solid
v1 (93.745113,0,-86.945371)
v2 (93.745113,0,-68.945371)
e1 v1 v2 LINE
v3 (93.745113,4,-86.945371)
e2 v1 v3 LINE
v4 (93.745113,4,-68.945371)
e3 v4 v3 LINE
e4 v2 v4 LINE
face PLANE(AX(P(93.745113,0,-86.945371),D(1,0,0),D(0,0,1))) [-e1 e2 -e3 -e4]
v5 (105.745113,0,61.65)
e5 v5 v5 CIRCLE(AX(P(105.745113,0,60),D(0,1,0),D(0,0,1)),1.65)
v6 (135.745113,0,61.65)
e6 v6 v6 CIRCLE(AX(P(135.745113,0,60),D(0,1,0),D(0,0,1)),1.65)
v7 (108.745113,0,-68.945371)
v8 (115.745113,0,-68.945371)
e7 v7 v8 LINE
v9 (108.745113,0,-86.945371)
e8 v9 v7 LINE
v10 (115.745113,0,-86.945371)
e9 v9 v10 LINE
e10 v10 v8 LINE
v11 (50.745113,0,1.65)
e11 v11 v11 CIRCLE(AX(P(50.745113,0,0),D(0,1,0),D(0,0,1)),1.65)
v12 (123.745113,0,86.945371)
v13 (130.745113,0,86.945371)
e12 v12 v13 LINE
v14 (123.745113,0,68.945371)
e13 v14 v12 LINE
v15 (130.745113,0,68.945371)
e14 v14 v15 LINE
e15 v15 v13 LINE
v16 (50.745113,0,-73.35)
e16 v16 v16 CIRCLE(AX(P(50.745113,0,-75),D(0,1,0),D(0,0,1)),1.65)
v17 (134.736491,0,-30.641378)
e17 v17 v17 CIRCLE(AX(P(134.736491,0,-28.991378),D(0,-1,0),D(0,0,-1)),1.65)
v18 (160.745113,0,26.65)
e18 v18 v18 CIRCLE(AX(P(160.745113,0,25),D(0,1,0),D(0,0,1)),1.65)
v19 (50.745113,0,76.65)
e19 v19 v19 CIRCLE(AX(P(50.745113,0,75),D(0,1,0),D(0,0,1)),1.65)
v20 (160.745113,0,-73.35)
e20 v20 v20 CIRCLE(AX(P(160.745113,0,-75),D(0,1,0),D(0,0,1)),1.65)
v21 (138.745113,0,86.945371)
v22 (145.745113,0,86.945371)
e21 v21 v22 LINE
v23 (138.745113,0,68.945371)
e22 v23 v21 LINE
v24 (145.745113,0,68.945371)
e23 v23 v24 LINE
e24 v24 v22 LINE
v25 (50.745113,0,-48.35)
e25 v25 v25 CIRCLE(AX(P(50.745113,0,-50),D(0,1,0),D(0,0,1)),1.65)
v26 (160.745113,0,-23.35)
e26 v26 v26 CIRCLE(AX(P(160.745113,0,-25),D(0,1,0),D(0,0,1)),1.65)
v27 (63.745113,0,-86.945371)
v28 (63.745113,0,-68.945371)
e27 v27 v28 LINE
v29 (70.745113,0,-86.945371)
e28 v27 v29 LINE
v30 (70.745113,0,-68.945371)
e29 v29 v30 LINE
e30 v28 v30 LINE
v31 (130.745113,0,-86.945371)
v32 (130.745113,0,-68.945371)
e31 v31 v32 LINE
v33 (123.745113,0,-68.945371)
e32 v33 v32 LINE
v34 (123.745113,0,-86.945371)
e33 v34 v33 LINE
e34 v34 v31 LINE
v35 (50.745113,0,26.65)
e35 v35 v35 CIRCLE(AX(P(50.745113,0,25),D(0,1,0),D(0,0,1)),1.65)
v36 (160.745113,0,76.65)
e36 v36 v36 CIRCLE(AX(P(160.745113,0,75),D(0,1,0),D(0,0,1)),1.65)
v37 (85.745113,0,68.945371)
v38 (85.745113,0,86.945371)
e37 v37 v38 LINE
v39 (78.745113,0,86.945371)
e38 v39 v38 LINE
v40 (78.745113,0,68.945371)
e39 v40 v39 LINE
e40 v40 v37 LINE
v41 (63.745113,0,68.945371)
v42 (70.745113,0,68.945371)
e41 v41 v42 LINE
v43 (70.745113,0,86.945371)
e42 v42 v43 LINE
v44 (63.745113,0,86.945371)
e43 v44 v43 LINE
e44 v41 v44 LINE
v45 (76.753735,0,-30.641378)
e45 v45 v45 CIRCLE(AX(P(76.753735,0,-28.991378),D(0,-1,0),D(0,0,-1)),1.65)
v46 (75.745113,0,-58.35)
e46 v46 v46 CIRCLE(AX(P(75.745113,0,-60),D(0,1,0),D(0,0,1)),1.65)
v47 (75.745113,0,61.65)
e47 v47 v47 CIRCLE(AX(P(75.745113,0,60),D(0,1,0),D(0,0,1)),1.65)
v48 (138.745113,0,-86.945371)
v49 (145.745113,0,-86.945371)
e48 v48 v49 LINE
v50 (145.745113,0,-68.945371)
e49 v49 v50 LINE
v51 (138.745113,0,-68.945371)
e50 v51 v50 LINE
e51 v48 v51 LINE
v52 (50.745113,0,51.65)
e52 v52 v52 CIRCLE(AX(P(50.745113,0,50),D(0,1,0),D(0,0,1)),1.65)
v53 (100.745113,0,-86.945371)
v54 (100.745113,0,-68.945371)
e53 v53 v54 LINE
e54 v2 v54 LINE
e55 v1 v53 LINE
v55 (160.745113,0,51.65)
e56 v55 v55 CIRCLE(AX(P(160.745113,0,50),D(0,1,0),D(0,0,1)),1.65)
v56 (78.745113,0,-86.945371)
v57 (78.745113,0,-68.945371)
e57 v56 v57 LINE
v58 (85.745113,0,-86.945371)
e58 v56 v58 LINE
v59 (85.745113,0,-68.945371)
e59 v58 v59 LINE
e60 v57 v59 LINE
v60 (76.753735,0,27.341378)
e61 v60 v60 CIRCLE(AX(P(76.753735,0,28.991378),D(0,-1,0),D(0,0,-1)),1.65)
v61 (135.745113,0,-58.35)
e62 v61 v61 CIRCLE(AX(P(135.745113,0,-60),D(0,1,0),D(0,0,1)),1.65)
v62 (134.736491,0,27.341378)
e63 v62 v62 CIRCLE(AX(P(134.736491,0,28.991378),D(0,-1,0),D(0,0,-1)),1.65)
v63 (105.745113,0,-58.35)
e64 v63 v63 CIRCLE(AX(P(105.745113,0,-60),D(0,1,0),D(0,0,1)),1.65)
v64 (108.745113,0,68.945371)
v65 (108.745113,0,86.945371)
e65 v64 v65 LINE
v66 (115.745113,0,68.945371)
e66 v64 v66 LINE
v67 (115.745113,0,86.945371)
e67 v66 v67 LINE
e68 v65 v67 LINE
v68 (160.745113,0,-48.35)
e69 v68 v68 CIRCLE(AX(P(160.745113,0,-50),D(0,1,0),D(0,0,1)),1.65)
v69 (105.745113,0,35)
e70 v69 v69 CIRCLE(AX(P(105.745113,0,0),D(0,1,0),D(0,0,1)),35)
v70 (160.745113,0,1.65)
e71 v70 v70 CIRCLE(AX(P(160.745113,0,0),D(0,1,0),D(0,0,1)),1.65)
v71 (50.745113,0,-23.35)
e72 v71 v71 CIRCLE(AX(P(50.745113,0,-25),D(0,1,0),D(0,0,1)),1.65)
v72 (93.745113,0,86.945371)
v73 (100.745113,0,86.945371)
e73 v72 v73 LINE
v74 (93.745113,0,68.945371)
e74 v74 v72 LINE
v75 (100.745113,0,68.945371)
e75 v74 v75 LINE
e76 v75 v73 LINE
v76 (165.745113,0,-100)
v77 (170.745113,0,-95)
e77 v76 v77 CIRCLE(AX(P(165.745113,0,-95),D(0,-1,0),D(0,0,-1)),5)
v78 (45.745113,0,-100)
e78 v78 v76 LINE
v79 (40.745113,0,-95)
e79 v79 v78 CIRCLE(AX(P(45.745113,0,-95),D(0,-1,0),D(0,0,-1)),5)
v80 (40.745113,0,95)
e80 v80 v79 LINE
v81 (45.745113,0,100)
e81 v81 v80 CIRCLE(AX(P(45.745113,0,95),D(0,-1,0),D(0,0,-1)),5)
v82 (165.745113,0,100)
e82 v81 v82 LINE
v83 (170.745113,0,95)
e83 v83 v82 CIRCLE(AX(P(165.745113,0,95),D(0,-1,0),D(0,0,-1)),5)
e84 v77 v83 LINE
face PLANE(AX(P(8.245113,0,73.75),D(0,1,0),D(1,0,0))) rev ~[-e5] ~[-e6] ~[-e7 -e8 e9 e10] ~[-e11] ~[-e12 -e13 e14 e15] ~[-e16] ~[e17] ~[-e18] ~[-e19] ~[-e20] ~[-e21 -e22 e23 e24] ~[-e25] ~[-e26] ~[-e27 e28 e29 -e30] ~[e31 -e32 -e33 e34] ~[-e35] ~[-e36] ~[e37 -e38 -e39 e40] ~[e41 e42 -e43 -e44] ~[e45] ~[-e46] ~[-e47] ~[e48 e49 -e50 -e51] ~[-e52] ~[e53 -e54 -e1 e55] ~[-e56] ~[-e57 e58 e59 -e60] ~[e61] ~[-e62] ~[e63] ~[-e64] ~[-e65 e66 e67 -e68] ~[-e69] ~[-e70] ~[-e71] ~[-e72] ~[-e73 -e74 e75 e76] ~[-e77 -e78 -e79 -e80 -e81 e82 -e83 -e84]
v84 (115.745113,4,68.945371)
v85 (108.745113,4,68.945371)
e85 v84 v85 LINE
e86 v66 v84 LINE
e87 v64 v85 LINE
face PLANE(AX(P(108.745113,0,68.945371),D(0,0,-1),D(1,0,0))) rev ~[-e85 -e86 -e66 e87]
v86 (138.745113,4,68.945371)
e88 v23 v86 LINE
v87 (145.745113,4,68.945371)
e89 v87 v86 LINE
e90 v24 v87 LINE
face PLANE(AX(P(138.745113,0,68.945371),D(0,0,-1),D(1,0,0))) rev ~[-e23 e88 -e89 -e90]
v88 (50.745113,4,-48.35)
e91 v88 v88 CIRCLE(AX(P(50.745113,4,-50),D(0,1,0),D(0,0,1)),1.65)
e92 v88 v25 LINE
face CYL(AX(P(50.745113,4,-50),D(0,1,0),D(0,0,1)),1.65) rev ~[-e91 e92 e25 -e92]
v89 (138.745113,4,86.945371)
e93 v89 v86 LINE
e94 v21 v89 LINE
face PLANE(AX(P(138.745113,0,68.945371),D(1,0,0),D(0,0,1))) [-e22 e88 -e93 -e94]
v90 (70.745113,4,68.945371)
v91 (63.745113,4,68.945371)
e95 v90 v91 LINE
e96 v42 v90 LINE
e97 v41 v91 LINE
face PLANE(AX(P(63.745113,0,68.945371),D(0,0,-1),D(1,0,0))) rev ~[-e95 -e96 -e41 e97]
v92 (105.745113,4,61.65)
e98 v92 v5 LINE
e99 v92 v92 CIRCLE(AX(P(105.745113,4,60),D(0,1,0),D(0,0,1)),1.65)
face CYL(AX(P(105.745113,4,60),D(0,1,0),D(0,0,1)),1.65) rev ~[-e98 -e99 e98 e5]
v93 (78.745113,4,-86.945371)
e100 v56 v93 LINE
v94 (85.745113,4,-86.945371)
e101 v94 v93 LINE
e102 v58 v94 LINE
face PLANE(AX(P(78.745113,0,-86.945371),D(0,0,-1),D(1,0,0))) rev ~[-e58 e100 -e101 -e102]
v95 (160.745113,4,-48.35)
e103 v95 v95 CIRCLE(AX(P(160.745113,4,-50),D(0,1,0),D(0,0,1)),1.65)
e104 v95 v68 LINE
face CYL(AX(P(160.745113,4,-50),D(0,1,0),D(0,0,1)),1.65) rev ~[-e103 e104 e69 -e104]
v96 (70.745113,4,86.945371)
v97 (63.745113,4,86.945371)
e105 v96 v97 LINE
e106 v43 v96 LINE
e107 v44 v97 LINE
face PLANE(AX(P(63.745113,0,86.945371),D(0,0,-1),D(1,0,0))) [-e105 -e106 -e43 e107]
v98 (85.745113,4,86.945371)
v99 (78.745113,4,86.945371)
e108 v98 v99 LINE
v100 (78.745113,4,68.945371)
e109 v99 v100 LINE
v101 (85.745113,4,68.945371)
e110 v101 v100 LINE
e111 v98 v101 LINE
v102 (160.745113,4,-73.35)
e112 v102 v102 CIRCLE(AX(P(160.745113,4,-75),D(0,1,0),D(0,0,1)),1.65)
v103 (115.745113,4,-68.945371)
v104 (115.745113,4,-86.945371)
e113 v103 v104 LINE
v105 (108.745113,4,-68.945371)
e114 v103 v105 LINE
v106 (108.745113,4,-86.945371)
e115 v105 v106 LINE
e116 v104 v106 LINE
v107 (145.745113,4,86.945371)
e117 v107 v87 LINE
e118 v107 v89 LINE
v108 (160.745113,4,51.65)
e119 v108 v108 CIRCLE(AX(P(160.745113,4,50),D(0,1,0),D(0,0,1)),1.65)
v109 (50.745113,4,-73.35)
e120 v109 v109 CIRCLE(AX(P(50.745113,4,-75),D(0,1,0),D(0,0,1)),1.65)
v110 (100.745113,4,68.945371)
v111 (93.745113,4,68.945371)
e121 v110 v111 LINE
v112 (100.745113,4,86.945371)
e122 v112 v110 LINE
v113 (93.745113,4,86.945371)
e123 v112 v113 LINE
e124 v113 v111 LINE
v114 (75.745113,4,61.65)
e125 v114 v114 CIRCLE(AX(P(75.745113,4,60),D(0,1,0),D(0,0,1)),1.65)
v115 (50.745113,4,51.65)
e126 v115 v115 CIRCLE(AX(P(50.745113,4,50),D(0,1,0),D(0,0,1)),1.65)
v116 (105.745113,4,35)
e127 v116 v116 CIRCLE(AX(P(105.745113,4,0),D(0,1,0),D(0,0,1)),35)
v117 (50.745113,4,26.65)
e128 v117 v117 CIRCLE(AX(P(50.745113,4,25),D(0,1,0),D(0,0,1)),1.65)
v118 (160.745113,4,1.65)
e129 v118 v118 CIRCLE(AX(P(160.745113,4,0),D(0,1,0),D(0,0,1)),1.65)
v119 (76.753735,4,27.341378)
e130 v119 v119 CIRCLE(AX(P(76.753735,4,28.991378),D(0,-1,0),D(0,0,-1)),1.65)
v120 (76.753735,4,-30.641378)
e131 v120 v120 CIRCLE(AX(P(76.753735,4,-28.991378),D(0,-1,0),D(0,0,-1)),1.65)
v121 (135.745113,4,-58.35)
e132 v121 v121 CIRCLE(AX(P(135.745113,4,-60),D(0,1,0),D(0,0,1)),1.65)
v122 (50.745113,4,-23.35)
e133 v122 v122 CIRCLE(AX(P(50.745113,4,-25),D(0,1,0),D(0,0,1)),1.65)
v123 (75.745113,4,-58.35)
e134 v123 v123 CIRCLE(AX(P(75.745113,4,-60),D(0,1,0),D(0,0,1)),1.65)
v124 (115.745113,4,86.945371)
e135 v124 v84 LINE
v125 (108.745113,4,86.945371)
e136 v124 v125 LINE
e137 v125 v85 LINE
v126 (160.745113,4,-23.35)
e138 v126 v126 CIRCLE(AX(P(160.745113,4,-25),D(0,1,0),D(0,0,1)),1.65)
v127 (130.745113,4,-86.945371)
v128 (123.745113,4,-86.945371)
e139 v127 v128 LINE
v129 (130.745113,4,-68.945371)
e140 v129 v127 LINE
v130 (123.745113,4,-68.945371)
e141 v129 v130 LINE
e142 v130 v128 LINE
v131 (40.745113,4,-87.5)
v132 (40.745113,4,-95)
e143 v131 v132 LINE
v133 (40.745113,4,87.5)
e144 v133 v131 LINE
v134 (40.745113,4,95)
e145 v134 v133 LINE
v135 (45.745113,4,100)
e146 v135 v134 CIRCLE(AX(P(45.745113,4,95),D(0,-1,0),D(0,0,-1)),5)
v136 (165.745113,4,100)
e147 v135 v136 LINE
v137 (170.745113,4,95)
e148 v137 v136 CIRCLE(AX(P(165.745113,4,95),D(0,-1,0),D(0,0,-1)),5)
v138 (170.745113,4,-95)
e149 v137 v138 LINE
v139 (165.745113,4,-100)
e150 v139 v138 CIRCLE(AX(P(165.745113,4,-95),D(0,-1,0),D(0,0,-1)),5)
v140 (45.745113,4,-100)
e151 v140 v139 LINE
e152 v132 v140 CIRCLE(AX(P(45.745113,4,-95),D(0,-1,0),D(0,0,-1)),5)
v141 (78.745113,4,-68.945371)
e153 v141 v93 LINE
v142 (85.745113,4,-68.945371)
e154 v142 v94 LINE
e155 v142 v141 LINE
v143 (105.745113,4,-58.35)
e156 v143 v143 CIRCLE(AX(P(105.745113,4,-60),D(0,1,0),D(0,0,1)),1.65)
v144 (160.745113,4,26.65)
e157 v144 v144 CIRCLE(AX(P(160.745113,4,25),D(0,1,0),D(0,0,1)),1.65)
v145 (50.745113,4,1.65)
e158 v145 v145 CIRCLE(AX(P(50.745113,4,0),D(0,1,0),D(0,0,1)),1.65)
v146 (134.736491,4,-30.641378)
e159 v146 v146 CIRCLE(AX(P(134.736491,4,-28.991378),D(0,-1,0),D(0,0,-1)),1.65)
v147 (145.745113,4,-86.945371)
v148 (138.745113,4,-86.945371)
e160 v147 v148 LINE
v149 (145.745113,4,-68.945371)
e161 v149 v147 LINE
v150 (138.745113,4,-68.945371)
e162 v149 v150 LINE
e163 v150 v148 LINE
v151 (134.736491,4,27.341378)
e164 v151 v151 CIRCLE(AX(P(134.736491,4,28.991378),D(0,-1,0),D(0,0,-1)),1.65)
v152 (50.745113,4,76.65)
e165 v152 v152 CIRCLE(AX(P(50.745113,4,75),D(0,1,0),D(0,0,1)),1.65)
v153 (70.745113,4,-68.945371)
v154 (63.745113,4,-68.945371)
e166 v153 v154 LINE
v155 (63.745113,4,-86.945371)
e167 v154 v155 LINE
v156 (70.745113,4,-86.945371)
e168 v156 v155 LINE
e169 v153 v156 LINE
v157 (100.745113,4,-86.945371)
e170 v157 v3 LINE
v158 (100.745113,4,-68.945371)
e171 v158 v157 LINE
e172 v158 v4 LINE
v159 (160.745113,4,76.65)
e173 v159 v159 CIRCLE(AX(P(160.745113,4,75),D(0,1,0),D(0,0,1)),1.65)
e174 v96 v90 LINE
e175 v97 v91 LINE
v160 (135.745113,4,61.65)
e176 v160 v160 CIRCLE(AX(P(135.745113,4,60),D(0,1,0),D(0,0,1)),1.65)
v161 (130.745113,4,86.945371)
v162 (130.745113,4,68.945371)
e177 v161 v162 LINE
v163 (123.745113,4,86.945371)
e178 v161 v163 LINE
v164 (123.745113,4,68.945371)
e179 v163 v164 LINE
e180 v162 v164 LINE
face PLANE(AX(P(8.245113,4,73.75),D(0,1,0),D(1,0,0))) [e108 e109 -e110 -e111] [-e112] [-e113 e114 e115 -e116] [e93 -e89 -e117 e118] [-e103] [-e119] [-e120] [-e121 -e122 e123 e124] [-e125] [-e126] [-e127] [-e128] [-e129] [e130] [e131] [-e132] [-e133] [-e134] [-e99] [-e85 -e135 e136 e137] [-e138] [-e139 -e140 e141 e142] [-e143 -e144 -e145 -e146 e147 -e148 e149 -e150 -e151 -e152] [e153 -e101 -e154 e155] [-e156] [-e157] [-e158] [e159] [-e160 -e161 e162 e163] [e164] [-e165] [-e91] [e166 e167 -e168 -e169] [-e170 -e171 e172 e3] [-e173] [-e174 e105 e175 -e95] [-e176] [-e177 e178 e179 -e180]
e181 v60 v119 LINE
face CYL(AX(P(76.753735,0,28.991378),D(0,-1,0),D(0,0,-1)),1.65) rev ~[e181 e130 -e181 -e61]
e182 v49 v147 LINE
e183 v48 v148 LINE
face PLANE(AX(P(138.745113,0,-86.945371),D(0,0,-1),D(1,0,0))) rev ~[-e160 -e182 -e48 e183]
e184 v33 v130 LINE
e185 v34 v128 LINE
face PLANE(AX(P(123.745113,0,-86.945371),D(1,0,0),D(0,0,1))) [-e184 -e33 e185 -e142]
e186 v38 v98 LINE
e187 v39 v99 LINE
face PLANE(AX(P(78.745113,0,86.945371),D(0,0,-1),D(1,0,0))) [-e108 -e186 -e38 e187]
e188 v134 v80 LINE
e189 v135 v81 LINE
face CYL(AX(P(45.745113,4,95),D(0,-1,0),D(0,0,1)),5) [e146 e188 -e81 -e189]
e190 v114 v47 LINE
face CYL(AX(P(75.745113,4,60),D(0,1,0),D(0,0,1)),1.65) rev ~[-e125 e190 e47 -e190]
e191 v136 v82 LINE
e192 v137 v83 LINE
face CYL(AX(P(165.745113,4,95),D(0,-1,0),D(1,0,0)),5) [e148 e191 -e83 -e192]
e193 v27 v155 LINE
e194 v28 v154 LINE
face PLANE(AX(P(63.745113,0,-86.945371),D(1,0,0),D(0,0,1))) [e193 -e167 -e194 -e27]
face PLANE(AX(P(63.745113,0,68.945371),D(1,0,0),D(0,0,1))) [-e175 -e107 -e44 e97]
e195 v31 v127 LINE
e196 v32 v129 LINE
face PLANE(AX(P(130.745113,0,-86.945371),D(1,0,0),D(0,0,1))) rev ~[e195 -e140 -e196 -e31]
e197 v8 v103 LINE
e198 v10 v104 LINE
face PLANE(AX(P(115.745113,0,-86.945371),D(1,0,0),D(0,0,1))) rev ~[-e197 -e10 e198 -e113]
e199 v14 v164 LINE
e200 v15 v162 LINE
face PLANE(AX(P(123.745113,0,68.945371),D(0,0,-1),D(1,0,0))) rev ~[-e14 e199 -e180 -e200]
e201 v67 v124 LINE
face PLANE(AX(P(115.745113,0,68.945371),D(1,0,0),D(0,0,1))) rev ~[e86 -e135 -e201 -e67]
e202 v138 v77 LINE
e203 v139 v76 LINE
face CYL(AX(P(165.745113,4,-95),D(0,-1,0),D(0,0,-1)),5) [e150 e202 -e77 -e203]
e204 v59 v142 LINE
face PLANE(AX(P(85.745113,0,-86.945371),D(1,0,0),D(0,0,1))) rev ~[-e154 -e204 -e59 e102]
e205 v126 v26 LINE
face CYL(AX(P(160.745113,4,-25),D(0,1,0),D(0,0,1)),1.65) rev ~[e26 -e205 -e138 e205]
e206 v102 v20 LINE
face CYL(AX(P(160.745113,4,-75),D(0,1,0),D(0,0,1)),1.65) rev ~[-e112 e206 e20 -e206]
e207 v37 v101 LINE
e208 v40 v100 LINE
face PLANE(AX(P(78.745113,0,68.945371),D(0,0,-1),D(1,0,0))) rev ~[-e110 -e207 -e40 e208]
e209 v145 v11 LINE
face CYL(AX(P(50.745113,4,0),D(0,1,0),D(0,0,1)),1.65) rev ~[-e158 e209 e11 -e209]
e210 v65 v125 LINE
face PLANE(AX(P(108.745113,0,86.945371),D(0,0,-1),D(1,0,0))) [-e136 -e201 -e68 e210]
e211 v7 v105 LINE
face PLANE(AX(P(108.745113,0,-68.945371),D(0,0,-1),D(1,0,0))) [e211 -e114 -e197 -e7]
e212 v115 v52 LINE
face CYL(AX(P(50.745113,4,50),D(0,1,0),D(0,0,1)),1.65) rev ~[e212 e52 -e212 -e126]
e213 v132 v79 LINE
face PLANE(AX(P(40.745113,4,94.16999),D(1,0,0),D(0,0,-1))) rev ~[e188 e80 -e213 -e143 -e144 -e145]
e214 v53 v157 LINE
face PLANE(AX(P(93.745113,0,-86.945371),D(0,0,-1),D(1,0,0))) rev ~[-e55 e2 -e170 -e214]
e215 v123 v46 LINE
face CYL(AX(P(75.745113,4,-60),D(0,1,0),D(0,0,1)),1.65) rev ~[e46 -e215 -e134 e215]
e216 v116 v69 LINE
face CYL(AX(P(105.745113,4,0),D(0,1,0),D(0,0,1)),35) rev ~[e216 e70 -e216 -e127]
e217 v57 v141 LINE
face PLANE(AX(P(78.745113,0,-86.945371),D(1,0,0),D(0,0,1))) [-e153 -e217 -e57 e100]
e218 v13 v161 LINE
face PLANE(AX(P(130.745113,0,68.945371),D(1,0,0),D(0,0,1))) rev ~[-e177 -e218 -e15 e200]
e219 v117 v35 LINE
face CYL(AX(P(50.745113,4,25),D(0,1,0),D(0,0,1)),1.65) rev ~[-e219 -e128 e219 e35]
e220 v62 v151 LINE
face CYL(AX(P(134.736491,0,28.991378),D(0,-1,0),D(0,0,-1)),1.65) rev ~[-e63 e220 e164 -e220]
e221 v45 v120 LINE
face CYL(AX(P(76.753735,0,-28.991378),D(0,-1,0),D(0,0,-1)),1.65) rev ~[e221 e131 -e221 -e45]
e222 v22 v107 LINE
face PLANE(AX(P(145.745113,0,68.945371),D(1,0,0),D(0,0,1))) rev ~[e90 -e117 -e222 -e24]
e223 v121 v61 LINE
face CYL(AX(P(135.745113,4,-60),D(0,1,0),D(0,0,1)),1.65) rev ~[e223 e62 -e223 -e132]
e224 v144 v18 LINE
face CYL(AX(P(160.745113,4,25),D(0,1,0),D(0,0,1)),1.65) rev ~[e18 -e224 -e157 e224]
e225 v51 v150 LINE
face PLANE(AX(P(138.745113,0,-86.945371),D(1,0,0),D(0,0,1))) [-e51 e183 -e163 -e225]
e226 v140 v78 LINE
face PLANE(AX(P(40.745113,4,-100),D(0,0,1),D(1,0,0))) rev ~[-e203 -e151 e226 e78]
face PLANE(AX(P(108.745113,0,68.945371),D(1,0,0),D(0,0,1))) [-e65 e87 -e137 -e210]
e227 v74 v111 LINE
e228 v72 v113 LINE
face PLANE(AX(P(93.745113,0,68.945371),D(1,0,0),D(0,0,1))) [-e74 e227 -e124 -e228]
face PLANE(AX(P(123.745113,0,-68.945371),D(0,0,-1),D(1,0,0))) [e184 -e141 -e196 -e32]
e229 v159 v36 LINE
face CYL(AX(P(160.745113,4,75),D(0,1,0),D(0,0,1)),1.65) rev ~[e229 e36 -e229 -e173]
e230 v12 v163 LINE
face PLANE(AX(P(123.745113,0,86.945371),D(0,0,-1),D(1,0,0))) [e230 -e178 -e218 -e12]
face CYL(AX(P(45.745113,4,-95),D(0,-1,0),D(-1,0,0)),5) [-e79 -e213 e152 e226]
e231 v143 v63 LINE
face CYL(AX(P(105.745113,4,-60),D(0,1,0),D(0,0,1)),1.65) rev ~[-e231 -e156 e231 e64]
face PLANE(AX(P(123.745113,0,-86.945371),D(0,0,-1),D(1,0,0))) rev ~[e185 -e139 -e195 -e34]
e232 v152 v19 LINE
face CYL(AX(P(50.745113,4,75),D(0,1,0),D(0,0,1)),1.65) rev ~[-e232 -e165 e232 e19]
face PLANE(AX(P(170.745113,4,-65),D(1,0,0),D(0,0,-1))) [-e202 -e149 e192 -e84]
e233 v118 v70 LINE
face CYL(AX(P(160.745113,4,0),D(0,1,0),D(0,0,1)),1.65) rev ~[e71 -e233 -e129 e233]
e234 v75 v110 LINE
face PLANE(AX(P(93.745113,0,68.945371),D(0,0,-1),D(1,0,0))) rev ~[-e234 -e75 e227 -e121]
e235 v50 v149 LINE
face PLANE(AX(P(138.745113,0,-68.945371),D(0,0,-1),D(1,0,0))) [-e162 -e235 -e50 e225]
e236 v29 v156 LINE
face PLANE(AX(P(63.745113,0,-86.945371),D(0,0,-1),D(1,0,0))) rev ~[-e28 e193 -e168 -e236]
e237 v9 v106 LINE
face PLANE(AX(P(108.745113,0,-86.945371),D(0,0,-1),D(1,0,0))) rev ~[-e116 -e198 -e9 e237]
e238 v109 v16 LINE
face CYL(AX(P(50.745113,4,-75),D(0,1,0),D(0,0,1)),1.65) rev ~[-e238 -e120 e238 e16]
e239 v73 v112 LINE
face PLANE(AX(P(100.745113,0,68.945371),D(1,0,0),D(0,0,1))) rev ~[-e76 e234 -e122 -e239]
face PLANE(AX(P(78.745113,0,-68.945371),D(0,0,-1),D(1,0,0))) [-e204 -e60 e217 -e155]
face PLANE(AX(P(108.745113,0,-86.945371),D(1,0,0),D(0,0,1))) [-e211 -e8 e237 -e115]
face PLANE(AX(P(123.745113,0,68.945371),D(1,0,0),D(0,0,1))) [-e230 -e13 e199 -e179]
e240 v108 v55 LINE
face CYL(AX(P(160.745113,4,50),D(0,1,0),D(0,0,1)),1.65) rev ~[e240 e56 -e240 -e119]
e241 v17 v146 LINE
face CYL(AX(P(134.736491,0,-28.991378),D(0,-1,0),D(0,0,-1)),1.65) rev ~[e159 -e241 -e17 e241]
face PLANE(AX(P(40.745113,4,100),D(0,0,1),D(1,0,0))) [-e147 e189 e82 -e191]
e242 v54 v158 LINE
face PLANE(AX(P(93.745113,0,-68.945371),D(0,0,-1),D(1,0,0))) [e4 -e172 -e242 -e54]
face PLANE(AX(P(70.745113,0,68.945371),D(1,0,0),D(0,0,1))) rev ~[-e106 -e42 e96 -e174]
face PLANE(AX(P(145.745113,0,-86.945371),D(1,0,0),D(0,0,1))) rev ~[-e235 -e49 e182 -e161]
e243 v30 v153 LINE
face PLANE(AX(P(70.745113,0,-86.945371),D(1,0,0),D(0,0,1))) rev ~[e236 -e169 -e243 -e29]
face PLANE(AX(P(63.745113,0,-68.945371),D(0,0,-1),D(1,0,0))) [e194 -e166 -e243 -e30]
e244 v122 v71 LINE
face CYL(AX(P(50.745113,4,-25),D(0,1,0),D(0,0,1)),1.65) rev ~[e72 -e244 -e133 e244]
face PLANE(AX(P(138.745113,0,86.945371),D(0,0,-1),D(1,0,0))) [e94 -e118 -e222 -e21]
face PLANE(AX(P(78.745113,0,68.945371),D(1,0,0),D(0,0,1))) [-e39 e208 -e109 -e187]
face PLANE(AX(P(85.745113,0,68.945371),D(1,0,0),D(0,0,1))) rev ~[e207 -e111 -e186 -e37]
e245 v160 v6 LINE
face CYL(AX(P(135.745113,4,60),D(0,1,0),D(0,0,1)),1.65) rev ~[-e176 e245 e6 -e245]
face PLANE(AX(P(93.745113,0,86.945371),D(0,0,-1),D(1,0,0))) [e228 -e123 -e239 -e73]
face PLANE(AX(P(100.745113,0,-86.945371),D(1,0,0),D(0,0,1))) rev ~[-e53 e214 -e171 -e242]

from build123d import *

# Parameters (mm, degrees)
SKETCH_1_W            = 250
SKETCH_1_H            = 100
EXTRUDE_1_DEPTH       = 4
SKETCH_2_R            = 7
SKETCH_2_R_2          = 2
SKETCH_2_R_3          = 12.5
CUT_EXTRUDE_1_DEPTH   = 10
SKETCH_3_W            = 97.153071718
SKETCH_3_H            = 57.170388118
CUT_EXTRUDE_2_DEPTH   = 10
SKETCH_5_R            = 2
CUT_EXTRUDE_3_DEPTH   = 135.688529578
SKETCH_6_W            = 100
SKETCH_6_H            = 4
EXTRUDE_2_DEPTH       = 10
EXTRUDE_3_DEPTH       = 4
SKETCH_9_W            = 57.170388118
SKETCH_9_H            = 4
EXTRUDE_4_DEPTH       = 10
FILLET_1_R            = 10
SKETCH_10_R           = 1.7
CUT_EXTRUDE_5_DEPTH   = 17
SKETCH_11_W           = 87.153071718
SKETCH_11_H           = 57.170388118
EXTRUDE_5_DEPTH       = 4
SKETCH_12_R           = 7
SKETCH_12_R_2         = 2
CUT_EXTRUDE_6_DEPTH   = 10
SKETCH_14_W           = 100
SKETCH_14_H           = 4
CUT_EXTRUDE_7_DEPTH   = 80
SKETCH_15_OUTSIDE_W   = 281.959
SKETCH_15_OUTSIDE_H   = 206.214
SKETCH_15_OUTSIDE_W_2 = 260
SKETCH_15_OUTSIDE_H_2 = 130
CUT_EXTRUDE_8_DEPTH   = 10
EXTRUDE_START         = -4
EXTRUDE_6_DEPTH       = 4
SKETCH_17_W           = 65
SKETCH_17_H           = 130
CUT_EXTRUDE_9_DEPTH   = 10
SKETCH_18_W           = 130
SKETCH_18_H           = 35
EXTRUDE_7_DEPTH       = 4
SKETCH_19_R           = 1.65
CUT_EXTRUDE_10_DEPTH  = 10
SKETCH_20_R           = 12.5
CUT_EXTRUDE_11_DEPTH  = 10
EXTRUDE_8_DEPTH       = 4
SKETCH_22_R           = 1.65
CUT_EXTRUDE_12_DEPTH  = 10
SKETCH_24_W           = 51.023920123
SKETCH_24_H           = 101.084181609
EXTRUDE_10_DEPTH      = 4
SKETCH_26_R           = 11.5
CUT_EXTRUDE_14_DEPTH  = 10
SKETCH_28_R           = 1.65
SKETCH_28_R_2         = 4.15
CUT_EXTRUDE_15_DEPTH  = 10
SKETCH_29_W           = 65
SKETCH_29_H           = 17.5
EXTRUDE_11_DEPTH      = 4
FILLET_4_R            = 5
SKETCH_30_W           = 135.504230547
SKETCH_30_H           = 189.169990082
CUT_EXTRUDE_16_DEPTH  = 10
SKETCH_31_R           = 35
CUT_EXTRUDE_17_DEPTH  = 10
SKETCH_32_R           = 1.65
CUT_EXTRUDE_18_DEPTH  = 10
SKETCH_33_W           = 7
SKETCH_33_H           = 18
CUT_EXTRUDE_19_DEPTH  = 10


with BuildPart() as part:
    # 草图1 → 凸台-拉伸1 (new body)
    with BuildSketch(Plane(origin=(0, 0, 0), x_dir=(1, 0, 0), z_dir=(0, 1, 0))):
        Rectangle(SKETCH_1_W, SKETCH_1_H)
    extrude(amount=EXTRUDE_1_DEPTH)

    # 草图2 → 切除-拉伸1 (cut)
    with BuildSketch(Plane.XZ):
        with Locations(Location((-80, 0, 0), (0, 0, 270))):
            Circle(SKETCH_2_R)
        with Locations(Location((-80, 20, 0), (0, 0, 270))):
            Circle(SKETCH_2_R_2)
        with Locations(Location((-63.141488869, -10.760604186, 0), (0, 0, 270))):
            Circle(SKETCH_2_R_2)
        with Locations(Location((-97.020085779, -10.503174762, 0), (0, 0, 270))):
            Circle(SKETCH_2_R_2)
        with Locations(Location((105.745112774, 0, 0), (0, 0, 270))):
            Circle(SKETCH_2_R_3)
    extrude(amount=-CUT_EXTRUDE_1_DEPTH, mode=Mode.SUBTRACT)

    # 草图3 → 切除-拉伸2 (cut)
    with BuildSketch(Plane.XZ):
        Rectangle(SKETCH_3_W, SKETCH_3_H)
    extrude(amount=-CUT_EXTRUDE_2_DEPTH, mode=Mode.SUBTRACT)

    # 草图5 → 切除-拉伸3 (cut, through all)
    with BuildSketch(Plane(origin=(0, 4, 0), x_dir=(1, 0, 0), z_dir=(0, 1, 0))):
        with Locations(Location((-115, 40, 0), (0, 0, 270))):
            Circle(SKETCH_5_R)
        with Locations(Location((-115, -40, 0), (0, 0, 270))):
            Circle(SKETCH_5_R)
        with Locations(Location((0, 40, 0), (0, 0, 270))):
            Circle(SKETCH_5_R)
        with Locations(Location((0, -40, 0), (0, 0, 270))):
            Circle(SKETCH_5_R)
    extrude(amount=-CUT_EXTRUDE_3_DEPTH, mode=Mode.SUBTRACT)

    # 草图6 → 凸台-拉伸2 (add)
    with BuildSketch(Plane(origin=(125, 0, 0), x_dir=(0, 0, -1), z_dir=(1, 0, 0))):
        with Locations((0, 2)):
            Rectangle(SKETCH_6_W, SKETCH_6_H)
    extrude(amount=EXTRUDE_2_DEPTH)

    # 草图7 → 凸台-拉伸3 (add)
    with BuildSketch(Plane.XZ):
        with BuildLine():
            ThreePointArc((180.745112774, 0), (132.506769507, 70.062926922), (49.843413337, 50))
            Line((49.843413337, 50), (135, 50))
            Line((135, 50), (135, -50))
            Line((135, -50), (49.843413337, -50))
            ThreePointArc((49.843413337, -50), (132.506769507, -70.062926922), (180.745112774, 0))
        make_face()
    extrude(amount=-EXTRUDE_3_DEPTH)

    # 草图9 → 凸台-拉伸4 (add)
    with BuildSketch(Plane.ZY.offset(-48.576535859)):
        with Locations((0, 2)):
            Rectangle(SKETCH_9_W, SKETCH_9_H)
    extrude(amount=EXTRUDE_4_DEPTH)

    # 圆角1
    fillet_1_edges = [part.edges().sort_by_distance(p)[0] for p in [
        (49.843413337, 2, 50),
        (49.843413337, 2, -50),
    ]]
    fillet(fillet_1_edges, radius=FILLET_1_R)

    # 草图10 → 切除-拉伸5 (cut)
    with BuildSketch(Plane.XZ):
        with Locations(Location((94.745112774, 17, 0), (0, 0, 270))):
            Circle(SKETCH_10_R)
        with Locations(Location((116.745112774, 17, 0), (0, 0, 270))):
            Circle(SKETCH_10_R)
        with Locations(Location((116.745112774, -17, 0), (0, 0, 270))):
            Circle(SKETCH_10_R)
        with Locations(Location((94.745112774, -17, 0), (0, 0, 270))):
            Circle(SKETCH_10_R)
    extrude(amount=-CUT_EXTRUDE_5_DEPTH, mode=Mode.SUBTRACT)

    # 草图11 → 凸台-拉伸5 (add)
    with BuildSketch(Plane.XZ):
        with Locations((-5, 0)):
            Rectangle(SKETCH_11_W, SKETCH_11_H)
    extrude(amount=-EXTRUDE_5_DEPTH)

    # 草图12 → 切除-拉伸6 (cut)
    with BuildSketch(Plane.XZ):
        with Locations(Location((0.75, 0, 0), (0, 0, 270))):
            Circle(SKETCH_12_R)
        with Locations(Location((-16.270085779, -10.503174762, 0), (0, 0, 270))):
            Circle(SKETCH_12_R_2)
        with Locations(Location((0.75, 20, 0), (0, 0, 270))):
            Circle(SKETCH_12_R_2)
        with Locations(Location((17.608511131, -10.760604186, 0), (0, 0, 270))):
            Circle(SKETCH_12_R_2)
    extrude(amount=-CUT_EXTRUDE_6_DEPTH, mode=Mode.SUBTRACT)

    # 草图14 → 切除-拉伸7 (cut)
    with BuildSketch(Plane.ZY.offset(125)):
        with Locations((0, 2)):
            Rectangle(SKETCH_14_W, SKETCH_14_H)
    extrude(amount=-CUT_EXTRUDE_7_DEPTH, mode=Mode.SUBTRACT)

    # 草图15 outside → 切除-拉伸8 (cut)
    with BuildSketch(Plane(origin=(0, 4, 0), x_dir=(1, 0, 0), z_dir=(0, 1, 0))):
        with Locations((67.8725, 0)):
            Rectangle(SKETCH_15_OUTSIDE_W, SKETCH_15_OUTSIDE_H)
        with Locations((105.745112774, 0)):
            Rectangle(SKETCH_15_OUTSIDE_W_2, SKETCH_15_OUTSIDE_H_2, mode=Mode.SUBTRACT)
    extrude(amount=-CUT_EXTRUDE_8_DEPTH, mode=Mode.SUBTRACT)

    # 草图16 → 凸台-拉伸6 (add)
    with BuildSketch(Plane(origin=(0, 4, 0), x_dir=(1, 0, 0), z_dir=(0, 1, 0)).offset(EXTRUDE_START)):
        with BuildLine():
            Line((235.745112774, -65), (235.745112774, 65))
            Line((235.745112774, 65), (143.161686642, 65))
            ThreePointArc((143.161686642, 65), (180.745112774, 0), (143.161686642, -65))
            Line((143.161686642, -65), (235.745112774, -65))
        make_face()
        with BuildLine():
            ThreePointArc((52.620430809, 52.941176471), (60.074733334, 59.491314003), (68.328538906, 65))
            Line((68.328538906, 65), (-24.254887226, 65))
            Line((-24.254887226, 65), (-24.254887226, 50))
            Line((-24.254887226, 50), (45.53713988, 50))
            ThreePointArc((45.53713988, 50), (49.371964824, 50.764518548), (52.620430809, 52.941176471))
        make_face()
        with BuildLine():
            Line((-24.254887226, -65), (68.328538906, -65))
            ThreePointArc((68.328538906, -65), (60.074733334, -59.491314003), (52.620430809, -52.941176471))
            ThreePointArc((52.620430809, -52.941176471), (49.371964824, -50.764518548), (45.53713988, -50))
            Line((45.53713988, -50), (-24.254887226, -50))
            Line((-24.254887226, -50), (-24.254887226, -65))
        make_face()
    extrude(amount=EXTRUDE_6_DEPTH)

    # 草图17 → 切除-拉伸9 (cut)
    with BuildSketch(Plane(origin=(0, 4, 0), x_dir=(1, 0, 0), z_dir=(0, 1, 0))):
        with Locations((203.245112774, 0)):
            Rectangle(SKETCH_17_W, SKETCH_17_H)
    extrude(amount=-CUT_EXTRUDE_9_DEPTH, mode=Mode.SUBTRACT)

    # 草图18 → 凸台-拉伸7 (add)
    with BuildSketch(Plane(origin=(0, 4, 0), x_dir=(1, 0, 0), z_dir=(0, 1, 0))):
        with Locations((105.745112774, 82.5)):
            Rectangle(SKETCH_18_W, SKETCH_18_H)
        with Locations((105.745112774, -82.5)):
            Rectangle(SKETCH_18_W, SKETCH_18_H)
    extrude(amount=-EXTRUDE_7_DEPTH)

    # 草图19 → 切除-拉伸10 (cut)
    with BuildSketch(Plane(origin=(0, 4, 0), x_dir=(1, 0, 0), z_dir=(0, 1, 0))):
        with Locations(Location((160.745112774, 0, 0), (0, 0, 270))):
            Circle(SKETCH_19_R)
        with Locations(Location((160.745112774, 25, 0), (0, 0, 270))):
            Circle(SKETCH_19_R)
        with Locations(Location((160.745112774, 50, 0), (0, 0, 270))):
            Circle(SKETCH_19_R)
        with Locations(Location((160.745112774, 75, 0), (0, 0, 270))):
            Circle(SKETCH_19_R)
        with Locations(Location((160.745112774, -25, 0), (0, 0, 270))):
            Circle(SKETCH_19_R)
        with Locations(Location((160.745112774, -50, 0), (0, 0, 270))):
            Circle(SKETCH_19_R)
        with Locations(Location((160.745112774, -75, 0), (0, 0, 270))):
            Circle(SKETCH_19_R)
        with Locations(Location((50.745112774, -75, 0), (0, 0, 270))):
            Circle(SKETCH_19_R)
        with Locations(Location((50.745112774, -50, 0), (0, 0, 270))):
            Circle(SKETCH_19_R)
        with Locations(Location((50.745112774, -25, 0), (0, 0, 270))):
            Circle(SKETCH_19_R)
        with Locations(Location((50.745112774, 75, 0), (0, 0, 270))):
            Circle(SKETCH_19_R)
        with Locations(Location((50.745112774, 50, 0), (0, 0, 270))):
            Circle(SKETCH_19_R)
        with Locations(Location((50.745112774, 25, 0), (0, 0, 270))):
            Circle(SKETCH_19_R)
        with Locations(Location((50.745112774, 0, 0), (0, 0, 270))):
            Circle(SKETCH_19_R)
    extrude(amount=-CUT_EXTRUDE_10_DEPTH, mode=Mode.SUBTRACT)

    # 草图20 → 切除-拉伸11 (cut)
    with BuildSketch(Plane(origin=(0, 4, 0), x_dir=(1, 0, 0), z_dir=(0, 1, 0))):
        with Locations(Location((0.75, 0, 0), (0, 0, 270))):
            Circle(SKETCH_20_R)
    extrude(amount=-CUT_EXTRUDE_11_DEPTH, mode=Mode.SUBTRACT)

    # 草图21 → 凸台-拉伸8 (add)
    with BuildSketch(Plane(origin=(0, 4, 0), x_dir=(1, 0, 0), z_dir=(0, 1, 0))):
        with BuildLine():
            Line((-24.254887226, 25.620218868), (-24.254887226, -25.620218868))
            ThreePointArc((-24.254887226, -25.620218868), (-35.05, 0), (-24.254887226, 25.620218868))
        make_face()
    extrude(amount=-EXTRUDE_8_DEPTH)

    # 草图22 → 切除-拉伸12 (cut)
    with BuildSketch(Plane(origin=(0, 4, 0), x_dir=(1, 0, 0), z_dir=(0, 1, 0))):
        with Locations(Location((75.745112774, 60, 0), (0, 0, 270))):
            Circle(SKETCH_22_R)
        with Locations(Location((105.745112774, 60, 0), (0, 0, 270))):
            Circle(SKETCH_22_R)
        with Locations(Location((135.745112774, 60, 0), (0, 0, 270))):
            Circle(SKETCH_22_R)
        with Locations(Location((135.745112774, -60, 0), (0, 0, 270))):
            Circle(SKETCH_22_R)
        with Locations(Location((105.745112774, -60, 0), (0, 0, 270))):
            Circle(SKETCH_22_R)
        with Locations(Location((75.745112774, -60, 0), (0, 0, 270))):
            Circle(SKETCH_22_R)
    extrude(amount=-CUT_EXTRUDE_12_DEPTH, mode=Mode.SUBTRACT)

    # 草图24 → 凸台-拉伸10 (add)
    with BuildSketch(Plane(origin=(0, 4, 0), x_dir=(1, 0, 0), z_dir=(0, 1, 0))):
        with Locations((4.36545126, -1.498313196)):
            Rectangle(SKETCH_24_W, SKETCH_24_H)
    extrude(amount=-EXTRUDE_10_DEPTH)

    # 草图26 → 切除-拉伸14 (cut)
    with BuildSketch(Plane(origin=(0, 4, 0), x_dir=(1, 0, 0), z_dir=(0, 1, 0))):
        with Locations(Location((0.75, 0, 0), (0, 0, 270))):
            Circle(SKETCH_26_R)
    extrude(amount=-CUT_EXTRUDE_14_DEPTH, mode=Mode.SUBTRACT)

    # 草图28 → 切除-拉伸15 (cut)
    with BuildSketch(Plane(origin=(0, 4, 0), x_dir=(1, 0, 0), z_dir=(0, 1, 0))):
        with Locations(Location((29.75, 0, 0), (0, 0, 270))):
            Circle(SKETCH_28_R)
        with Locations(Location((-13.75, -25.11473671, 0), (0, 0, 270))):
            Circle(SKETCH_28_R)
        with Locations(Location((-13.75, 25.11473671, 0), (0, 0, 270))):
            Circle(SKETCH_28_R)
        with Locations(Location((20, 0, 0), (0, 0, 270))):
            Circle(SKETCH_28_R_2)
    extrude(amount=-CUT_EXTRUDE_15_DEPTH, mode=Mode.SUBTRACT)

    # 草图29 → 凸台-拉伸11 (add)
    with BuildSketch(Plane(origin=(0, 4, 0), x_dir=(1, 0, 0), z_dir=(0, 1, 0))):
        with Locations((8.245112774, -73.75)):
            Rectangle(SKETCH_29_W, SKETCH_29_H)
        with Locations((8.245112774, 73.75)):
            Rectangle(SKETCH_29_W, SKETCH_29_H)
    extrude(amount=-EXTRUDE_11_DEPTH)

    # 圆角4
    fillet_4_edges = [part.edges().sort_by_distance(p)[0] for p in [
        (170.745112774, 2, -100),
        (40.745112774, 2, -100),
        (40.745112774, 2, 100),
        (170.745112774, 2, 100),
        (40.745112774, 2, 82.5),
        (-24.254887226, 2, 82.5),
        (-24.254887226, 2, -82.5),
        (40.745112774, 2, -82.5),
    ]]
    fillet(fillet_4_edges, radius=FILLET_4_R)

    # 草图30 → 切除-拉伸16 (cut)
    with BuildSketch(Plane(origin=(0, 4, 0), x_dir=(1, 0, 0), z_dir=(0, 1, 0))):
        with Locations((-27.007002499, 0.415004959)):
            Rectangle(SKETCH_30_W, SKETCH_30_H)
    extrude(amount=-CUT_EXTRUDE_16_DEPTH, mode=Mode.SUBTRACT)

    # 草图31 → 切除-拉伸17 (cut)
    with BuildSketch(Plane(origin=(0, 4, 0), x_dir=(1, 0, 0), z_dir=(0, 1, 0))):
        with Locations(Location((105.745112774, 0, 0), (0, 0, 270))):
            Circle(SKETCH_31_R)
    extrude(amount=-CUT_EXTRUDE_17_DEPTH, mode=Mode.SUBTRACT)

    # 草图32 → 切除-拉伸18 (cut)
    with BuildSketch(Plane.XZ):
        with Locations(Location((76.753734745, 28.991378029, 0), (0, 0, 270))):
            Circle(SKETCH_32_R)
        with Locations(Location((134.736490803, 28.991378029, 0), (0, 0, 270))):
            Circle(SKETCH_32_R)
        with Locations(Location((76.753734745, -28.991378029, 0), (0, 0, 270))):
            Circle(SKETCH_32_R)
        with Locations(Location((134.736490803, -28.991378029, 0), (0, 0, 270))):
            Circle(SKETCH_32_R)
    extrude(amount=-CUT_EXTRUDE_18_DEPTH, mode=Mode.SUBTRACT)

    # 草图33 → 切除-拉伸19 (cut)
    with BuildSketch(Plane.XZ):
        with Locations((82.245112774, 77.945371108)):
            Rectangle(SKETCH_33_W, SKETCH_33_H)
        with Locations((67.245112774, 77.945371108)):
            Rectangle(SKETCH_33_W, SKETCH_33_H)
        with Locations((97.245112774, 77.945371108)):
            Rectangle(SKETCH_33_W, SKETCH_33_H)
        with Locations((112.245112774, 77.945371108)):
            Rectangle(SKETCH_33_W, SKETCH_33_H)
        with Locations((127.245112774, 77.945371108)):
            Rectangle(SKETCH_33_W, SKETCH_33_H)
        with Locations((142.245112774, 77.945371108)):
            Rectangle(SKETCH_33_W, SKETCH_33_H)
        with Locations((142.245112774, -77.945371108)):
            Rectangle(SKETCH_33_W, SKETCH_33_H)
        with Locations((127.245112774, -77.945371108)):
            Rectangle(SKETCH_33_W, SKETCH_33_H)
        with Locations((112.245112774, -77.945371108)):
            Rectangle(SKETCH_33_W, SKETCH_33_H)
        with Locations((97.245112774, -77.945371108)):
            Rectangle(SKETCH_33_W, SKETCH_33_H)
        with Locations((82.245112774, -77.945371108)):
            Rectangle(SKETCH_33_W, SKETCH_33_H)
        with Locations((67.245112774, -77.945371108)):
            Rectangle(SKETCH_33_W, SKETCH_33_H)
    extrude(amount=-CUT_EXTRUDE_19_DEPTH, mode=Mode.SUBTRACT)


solid = part.part
